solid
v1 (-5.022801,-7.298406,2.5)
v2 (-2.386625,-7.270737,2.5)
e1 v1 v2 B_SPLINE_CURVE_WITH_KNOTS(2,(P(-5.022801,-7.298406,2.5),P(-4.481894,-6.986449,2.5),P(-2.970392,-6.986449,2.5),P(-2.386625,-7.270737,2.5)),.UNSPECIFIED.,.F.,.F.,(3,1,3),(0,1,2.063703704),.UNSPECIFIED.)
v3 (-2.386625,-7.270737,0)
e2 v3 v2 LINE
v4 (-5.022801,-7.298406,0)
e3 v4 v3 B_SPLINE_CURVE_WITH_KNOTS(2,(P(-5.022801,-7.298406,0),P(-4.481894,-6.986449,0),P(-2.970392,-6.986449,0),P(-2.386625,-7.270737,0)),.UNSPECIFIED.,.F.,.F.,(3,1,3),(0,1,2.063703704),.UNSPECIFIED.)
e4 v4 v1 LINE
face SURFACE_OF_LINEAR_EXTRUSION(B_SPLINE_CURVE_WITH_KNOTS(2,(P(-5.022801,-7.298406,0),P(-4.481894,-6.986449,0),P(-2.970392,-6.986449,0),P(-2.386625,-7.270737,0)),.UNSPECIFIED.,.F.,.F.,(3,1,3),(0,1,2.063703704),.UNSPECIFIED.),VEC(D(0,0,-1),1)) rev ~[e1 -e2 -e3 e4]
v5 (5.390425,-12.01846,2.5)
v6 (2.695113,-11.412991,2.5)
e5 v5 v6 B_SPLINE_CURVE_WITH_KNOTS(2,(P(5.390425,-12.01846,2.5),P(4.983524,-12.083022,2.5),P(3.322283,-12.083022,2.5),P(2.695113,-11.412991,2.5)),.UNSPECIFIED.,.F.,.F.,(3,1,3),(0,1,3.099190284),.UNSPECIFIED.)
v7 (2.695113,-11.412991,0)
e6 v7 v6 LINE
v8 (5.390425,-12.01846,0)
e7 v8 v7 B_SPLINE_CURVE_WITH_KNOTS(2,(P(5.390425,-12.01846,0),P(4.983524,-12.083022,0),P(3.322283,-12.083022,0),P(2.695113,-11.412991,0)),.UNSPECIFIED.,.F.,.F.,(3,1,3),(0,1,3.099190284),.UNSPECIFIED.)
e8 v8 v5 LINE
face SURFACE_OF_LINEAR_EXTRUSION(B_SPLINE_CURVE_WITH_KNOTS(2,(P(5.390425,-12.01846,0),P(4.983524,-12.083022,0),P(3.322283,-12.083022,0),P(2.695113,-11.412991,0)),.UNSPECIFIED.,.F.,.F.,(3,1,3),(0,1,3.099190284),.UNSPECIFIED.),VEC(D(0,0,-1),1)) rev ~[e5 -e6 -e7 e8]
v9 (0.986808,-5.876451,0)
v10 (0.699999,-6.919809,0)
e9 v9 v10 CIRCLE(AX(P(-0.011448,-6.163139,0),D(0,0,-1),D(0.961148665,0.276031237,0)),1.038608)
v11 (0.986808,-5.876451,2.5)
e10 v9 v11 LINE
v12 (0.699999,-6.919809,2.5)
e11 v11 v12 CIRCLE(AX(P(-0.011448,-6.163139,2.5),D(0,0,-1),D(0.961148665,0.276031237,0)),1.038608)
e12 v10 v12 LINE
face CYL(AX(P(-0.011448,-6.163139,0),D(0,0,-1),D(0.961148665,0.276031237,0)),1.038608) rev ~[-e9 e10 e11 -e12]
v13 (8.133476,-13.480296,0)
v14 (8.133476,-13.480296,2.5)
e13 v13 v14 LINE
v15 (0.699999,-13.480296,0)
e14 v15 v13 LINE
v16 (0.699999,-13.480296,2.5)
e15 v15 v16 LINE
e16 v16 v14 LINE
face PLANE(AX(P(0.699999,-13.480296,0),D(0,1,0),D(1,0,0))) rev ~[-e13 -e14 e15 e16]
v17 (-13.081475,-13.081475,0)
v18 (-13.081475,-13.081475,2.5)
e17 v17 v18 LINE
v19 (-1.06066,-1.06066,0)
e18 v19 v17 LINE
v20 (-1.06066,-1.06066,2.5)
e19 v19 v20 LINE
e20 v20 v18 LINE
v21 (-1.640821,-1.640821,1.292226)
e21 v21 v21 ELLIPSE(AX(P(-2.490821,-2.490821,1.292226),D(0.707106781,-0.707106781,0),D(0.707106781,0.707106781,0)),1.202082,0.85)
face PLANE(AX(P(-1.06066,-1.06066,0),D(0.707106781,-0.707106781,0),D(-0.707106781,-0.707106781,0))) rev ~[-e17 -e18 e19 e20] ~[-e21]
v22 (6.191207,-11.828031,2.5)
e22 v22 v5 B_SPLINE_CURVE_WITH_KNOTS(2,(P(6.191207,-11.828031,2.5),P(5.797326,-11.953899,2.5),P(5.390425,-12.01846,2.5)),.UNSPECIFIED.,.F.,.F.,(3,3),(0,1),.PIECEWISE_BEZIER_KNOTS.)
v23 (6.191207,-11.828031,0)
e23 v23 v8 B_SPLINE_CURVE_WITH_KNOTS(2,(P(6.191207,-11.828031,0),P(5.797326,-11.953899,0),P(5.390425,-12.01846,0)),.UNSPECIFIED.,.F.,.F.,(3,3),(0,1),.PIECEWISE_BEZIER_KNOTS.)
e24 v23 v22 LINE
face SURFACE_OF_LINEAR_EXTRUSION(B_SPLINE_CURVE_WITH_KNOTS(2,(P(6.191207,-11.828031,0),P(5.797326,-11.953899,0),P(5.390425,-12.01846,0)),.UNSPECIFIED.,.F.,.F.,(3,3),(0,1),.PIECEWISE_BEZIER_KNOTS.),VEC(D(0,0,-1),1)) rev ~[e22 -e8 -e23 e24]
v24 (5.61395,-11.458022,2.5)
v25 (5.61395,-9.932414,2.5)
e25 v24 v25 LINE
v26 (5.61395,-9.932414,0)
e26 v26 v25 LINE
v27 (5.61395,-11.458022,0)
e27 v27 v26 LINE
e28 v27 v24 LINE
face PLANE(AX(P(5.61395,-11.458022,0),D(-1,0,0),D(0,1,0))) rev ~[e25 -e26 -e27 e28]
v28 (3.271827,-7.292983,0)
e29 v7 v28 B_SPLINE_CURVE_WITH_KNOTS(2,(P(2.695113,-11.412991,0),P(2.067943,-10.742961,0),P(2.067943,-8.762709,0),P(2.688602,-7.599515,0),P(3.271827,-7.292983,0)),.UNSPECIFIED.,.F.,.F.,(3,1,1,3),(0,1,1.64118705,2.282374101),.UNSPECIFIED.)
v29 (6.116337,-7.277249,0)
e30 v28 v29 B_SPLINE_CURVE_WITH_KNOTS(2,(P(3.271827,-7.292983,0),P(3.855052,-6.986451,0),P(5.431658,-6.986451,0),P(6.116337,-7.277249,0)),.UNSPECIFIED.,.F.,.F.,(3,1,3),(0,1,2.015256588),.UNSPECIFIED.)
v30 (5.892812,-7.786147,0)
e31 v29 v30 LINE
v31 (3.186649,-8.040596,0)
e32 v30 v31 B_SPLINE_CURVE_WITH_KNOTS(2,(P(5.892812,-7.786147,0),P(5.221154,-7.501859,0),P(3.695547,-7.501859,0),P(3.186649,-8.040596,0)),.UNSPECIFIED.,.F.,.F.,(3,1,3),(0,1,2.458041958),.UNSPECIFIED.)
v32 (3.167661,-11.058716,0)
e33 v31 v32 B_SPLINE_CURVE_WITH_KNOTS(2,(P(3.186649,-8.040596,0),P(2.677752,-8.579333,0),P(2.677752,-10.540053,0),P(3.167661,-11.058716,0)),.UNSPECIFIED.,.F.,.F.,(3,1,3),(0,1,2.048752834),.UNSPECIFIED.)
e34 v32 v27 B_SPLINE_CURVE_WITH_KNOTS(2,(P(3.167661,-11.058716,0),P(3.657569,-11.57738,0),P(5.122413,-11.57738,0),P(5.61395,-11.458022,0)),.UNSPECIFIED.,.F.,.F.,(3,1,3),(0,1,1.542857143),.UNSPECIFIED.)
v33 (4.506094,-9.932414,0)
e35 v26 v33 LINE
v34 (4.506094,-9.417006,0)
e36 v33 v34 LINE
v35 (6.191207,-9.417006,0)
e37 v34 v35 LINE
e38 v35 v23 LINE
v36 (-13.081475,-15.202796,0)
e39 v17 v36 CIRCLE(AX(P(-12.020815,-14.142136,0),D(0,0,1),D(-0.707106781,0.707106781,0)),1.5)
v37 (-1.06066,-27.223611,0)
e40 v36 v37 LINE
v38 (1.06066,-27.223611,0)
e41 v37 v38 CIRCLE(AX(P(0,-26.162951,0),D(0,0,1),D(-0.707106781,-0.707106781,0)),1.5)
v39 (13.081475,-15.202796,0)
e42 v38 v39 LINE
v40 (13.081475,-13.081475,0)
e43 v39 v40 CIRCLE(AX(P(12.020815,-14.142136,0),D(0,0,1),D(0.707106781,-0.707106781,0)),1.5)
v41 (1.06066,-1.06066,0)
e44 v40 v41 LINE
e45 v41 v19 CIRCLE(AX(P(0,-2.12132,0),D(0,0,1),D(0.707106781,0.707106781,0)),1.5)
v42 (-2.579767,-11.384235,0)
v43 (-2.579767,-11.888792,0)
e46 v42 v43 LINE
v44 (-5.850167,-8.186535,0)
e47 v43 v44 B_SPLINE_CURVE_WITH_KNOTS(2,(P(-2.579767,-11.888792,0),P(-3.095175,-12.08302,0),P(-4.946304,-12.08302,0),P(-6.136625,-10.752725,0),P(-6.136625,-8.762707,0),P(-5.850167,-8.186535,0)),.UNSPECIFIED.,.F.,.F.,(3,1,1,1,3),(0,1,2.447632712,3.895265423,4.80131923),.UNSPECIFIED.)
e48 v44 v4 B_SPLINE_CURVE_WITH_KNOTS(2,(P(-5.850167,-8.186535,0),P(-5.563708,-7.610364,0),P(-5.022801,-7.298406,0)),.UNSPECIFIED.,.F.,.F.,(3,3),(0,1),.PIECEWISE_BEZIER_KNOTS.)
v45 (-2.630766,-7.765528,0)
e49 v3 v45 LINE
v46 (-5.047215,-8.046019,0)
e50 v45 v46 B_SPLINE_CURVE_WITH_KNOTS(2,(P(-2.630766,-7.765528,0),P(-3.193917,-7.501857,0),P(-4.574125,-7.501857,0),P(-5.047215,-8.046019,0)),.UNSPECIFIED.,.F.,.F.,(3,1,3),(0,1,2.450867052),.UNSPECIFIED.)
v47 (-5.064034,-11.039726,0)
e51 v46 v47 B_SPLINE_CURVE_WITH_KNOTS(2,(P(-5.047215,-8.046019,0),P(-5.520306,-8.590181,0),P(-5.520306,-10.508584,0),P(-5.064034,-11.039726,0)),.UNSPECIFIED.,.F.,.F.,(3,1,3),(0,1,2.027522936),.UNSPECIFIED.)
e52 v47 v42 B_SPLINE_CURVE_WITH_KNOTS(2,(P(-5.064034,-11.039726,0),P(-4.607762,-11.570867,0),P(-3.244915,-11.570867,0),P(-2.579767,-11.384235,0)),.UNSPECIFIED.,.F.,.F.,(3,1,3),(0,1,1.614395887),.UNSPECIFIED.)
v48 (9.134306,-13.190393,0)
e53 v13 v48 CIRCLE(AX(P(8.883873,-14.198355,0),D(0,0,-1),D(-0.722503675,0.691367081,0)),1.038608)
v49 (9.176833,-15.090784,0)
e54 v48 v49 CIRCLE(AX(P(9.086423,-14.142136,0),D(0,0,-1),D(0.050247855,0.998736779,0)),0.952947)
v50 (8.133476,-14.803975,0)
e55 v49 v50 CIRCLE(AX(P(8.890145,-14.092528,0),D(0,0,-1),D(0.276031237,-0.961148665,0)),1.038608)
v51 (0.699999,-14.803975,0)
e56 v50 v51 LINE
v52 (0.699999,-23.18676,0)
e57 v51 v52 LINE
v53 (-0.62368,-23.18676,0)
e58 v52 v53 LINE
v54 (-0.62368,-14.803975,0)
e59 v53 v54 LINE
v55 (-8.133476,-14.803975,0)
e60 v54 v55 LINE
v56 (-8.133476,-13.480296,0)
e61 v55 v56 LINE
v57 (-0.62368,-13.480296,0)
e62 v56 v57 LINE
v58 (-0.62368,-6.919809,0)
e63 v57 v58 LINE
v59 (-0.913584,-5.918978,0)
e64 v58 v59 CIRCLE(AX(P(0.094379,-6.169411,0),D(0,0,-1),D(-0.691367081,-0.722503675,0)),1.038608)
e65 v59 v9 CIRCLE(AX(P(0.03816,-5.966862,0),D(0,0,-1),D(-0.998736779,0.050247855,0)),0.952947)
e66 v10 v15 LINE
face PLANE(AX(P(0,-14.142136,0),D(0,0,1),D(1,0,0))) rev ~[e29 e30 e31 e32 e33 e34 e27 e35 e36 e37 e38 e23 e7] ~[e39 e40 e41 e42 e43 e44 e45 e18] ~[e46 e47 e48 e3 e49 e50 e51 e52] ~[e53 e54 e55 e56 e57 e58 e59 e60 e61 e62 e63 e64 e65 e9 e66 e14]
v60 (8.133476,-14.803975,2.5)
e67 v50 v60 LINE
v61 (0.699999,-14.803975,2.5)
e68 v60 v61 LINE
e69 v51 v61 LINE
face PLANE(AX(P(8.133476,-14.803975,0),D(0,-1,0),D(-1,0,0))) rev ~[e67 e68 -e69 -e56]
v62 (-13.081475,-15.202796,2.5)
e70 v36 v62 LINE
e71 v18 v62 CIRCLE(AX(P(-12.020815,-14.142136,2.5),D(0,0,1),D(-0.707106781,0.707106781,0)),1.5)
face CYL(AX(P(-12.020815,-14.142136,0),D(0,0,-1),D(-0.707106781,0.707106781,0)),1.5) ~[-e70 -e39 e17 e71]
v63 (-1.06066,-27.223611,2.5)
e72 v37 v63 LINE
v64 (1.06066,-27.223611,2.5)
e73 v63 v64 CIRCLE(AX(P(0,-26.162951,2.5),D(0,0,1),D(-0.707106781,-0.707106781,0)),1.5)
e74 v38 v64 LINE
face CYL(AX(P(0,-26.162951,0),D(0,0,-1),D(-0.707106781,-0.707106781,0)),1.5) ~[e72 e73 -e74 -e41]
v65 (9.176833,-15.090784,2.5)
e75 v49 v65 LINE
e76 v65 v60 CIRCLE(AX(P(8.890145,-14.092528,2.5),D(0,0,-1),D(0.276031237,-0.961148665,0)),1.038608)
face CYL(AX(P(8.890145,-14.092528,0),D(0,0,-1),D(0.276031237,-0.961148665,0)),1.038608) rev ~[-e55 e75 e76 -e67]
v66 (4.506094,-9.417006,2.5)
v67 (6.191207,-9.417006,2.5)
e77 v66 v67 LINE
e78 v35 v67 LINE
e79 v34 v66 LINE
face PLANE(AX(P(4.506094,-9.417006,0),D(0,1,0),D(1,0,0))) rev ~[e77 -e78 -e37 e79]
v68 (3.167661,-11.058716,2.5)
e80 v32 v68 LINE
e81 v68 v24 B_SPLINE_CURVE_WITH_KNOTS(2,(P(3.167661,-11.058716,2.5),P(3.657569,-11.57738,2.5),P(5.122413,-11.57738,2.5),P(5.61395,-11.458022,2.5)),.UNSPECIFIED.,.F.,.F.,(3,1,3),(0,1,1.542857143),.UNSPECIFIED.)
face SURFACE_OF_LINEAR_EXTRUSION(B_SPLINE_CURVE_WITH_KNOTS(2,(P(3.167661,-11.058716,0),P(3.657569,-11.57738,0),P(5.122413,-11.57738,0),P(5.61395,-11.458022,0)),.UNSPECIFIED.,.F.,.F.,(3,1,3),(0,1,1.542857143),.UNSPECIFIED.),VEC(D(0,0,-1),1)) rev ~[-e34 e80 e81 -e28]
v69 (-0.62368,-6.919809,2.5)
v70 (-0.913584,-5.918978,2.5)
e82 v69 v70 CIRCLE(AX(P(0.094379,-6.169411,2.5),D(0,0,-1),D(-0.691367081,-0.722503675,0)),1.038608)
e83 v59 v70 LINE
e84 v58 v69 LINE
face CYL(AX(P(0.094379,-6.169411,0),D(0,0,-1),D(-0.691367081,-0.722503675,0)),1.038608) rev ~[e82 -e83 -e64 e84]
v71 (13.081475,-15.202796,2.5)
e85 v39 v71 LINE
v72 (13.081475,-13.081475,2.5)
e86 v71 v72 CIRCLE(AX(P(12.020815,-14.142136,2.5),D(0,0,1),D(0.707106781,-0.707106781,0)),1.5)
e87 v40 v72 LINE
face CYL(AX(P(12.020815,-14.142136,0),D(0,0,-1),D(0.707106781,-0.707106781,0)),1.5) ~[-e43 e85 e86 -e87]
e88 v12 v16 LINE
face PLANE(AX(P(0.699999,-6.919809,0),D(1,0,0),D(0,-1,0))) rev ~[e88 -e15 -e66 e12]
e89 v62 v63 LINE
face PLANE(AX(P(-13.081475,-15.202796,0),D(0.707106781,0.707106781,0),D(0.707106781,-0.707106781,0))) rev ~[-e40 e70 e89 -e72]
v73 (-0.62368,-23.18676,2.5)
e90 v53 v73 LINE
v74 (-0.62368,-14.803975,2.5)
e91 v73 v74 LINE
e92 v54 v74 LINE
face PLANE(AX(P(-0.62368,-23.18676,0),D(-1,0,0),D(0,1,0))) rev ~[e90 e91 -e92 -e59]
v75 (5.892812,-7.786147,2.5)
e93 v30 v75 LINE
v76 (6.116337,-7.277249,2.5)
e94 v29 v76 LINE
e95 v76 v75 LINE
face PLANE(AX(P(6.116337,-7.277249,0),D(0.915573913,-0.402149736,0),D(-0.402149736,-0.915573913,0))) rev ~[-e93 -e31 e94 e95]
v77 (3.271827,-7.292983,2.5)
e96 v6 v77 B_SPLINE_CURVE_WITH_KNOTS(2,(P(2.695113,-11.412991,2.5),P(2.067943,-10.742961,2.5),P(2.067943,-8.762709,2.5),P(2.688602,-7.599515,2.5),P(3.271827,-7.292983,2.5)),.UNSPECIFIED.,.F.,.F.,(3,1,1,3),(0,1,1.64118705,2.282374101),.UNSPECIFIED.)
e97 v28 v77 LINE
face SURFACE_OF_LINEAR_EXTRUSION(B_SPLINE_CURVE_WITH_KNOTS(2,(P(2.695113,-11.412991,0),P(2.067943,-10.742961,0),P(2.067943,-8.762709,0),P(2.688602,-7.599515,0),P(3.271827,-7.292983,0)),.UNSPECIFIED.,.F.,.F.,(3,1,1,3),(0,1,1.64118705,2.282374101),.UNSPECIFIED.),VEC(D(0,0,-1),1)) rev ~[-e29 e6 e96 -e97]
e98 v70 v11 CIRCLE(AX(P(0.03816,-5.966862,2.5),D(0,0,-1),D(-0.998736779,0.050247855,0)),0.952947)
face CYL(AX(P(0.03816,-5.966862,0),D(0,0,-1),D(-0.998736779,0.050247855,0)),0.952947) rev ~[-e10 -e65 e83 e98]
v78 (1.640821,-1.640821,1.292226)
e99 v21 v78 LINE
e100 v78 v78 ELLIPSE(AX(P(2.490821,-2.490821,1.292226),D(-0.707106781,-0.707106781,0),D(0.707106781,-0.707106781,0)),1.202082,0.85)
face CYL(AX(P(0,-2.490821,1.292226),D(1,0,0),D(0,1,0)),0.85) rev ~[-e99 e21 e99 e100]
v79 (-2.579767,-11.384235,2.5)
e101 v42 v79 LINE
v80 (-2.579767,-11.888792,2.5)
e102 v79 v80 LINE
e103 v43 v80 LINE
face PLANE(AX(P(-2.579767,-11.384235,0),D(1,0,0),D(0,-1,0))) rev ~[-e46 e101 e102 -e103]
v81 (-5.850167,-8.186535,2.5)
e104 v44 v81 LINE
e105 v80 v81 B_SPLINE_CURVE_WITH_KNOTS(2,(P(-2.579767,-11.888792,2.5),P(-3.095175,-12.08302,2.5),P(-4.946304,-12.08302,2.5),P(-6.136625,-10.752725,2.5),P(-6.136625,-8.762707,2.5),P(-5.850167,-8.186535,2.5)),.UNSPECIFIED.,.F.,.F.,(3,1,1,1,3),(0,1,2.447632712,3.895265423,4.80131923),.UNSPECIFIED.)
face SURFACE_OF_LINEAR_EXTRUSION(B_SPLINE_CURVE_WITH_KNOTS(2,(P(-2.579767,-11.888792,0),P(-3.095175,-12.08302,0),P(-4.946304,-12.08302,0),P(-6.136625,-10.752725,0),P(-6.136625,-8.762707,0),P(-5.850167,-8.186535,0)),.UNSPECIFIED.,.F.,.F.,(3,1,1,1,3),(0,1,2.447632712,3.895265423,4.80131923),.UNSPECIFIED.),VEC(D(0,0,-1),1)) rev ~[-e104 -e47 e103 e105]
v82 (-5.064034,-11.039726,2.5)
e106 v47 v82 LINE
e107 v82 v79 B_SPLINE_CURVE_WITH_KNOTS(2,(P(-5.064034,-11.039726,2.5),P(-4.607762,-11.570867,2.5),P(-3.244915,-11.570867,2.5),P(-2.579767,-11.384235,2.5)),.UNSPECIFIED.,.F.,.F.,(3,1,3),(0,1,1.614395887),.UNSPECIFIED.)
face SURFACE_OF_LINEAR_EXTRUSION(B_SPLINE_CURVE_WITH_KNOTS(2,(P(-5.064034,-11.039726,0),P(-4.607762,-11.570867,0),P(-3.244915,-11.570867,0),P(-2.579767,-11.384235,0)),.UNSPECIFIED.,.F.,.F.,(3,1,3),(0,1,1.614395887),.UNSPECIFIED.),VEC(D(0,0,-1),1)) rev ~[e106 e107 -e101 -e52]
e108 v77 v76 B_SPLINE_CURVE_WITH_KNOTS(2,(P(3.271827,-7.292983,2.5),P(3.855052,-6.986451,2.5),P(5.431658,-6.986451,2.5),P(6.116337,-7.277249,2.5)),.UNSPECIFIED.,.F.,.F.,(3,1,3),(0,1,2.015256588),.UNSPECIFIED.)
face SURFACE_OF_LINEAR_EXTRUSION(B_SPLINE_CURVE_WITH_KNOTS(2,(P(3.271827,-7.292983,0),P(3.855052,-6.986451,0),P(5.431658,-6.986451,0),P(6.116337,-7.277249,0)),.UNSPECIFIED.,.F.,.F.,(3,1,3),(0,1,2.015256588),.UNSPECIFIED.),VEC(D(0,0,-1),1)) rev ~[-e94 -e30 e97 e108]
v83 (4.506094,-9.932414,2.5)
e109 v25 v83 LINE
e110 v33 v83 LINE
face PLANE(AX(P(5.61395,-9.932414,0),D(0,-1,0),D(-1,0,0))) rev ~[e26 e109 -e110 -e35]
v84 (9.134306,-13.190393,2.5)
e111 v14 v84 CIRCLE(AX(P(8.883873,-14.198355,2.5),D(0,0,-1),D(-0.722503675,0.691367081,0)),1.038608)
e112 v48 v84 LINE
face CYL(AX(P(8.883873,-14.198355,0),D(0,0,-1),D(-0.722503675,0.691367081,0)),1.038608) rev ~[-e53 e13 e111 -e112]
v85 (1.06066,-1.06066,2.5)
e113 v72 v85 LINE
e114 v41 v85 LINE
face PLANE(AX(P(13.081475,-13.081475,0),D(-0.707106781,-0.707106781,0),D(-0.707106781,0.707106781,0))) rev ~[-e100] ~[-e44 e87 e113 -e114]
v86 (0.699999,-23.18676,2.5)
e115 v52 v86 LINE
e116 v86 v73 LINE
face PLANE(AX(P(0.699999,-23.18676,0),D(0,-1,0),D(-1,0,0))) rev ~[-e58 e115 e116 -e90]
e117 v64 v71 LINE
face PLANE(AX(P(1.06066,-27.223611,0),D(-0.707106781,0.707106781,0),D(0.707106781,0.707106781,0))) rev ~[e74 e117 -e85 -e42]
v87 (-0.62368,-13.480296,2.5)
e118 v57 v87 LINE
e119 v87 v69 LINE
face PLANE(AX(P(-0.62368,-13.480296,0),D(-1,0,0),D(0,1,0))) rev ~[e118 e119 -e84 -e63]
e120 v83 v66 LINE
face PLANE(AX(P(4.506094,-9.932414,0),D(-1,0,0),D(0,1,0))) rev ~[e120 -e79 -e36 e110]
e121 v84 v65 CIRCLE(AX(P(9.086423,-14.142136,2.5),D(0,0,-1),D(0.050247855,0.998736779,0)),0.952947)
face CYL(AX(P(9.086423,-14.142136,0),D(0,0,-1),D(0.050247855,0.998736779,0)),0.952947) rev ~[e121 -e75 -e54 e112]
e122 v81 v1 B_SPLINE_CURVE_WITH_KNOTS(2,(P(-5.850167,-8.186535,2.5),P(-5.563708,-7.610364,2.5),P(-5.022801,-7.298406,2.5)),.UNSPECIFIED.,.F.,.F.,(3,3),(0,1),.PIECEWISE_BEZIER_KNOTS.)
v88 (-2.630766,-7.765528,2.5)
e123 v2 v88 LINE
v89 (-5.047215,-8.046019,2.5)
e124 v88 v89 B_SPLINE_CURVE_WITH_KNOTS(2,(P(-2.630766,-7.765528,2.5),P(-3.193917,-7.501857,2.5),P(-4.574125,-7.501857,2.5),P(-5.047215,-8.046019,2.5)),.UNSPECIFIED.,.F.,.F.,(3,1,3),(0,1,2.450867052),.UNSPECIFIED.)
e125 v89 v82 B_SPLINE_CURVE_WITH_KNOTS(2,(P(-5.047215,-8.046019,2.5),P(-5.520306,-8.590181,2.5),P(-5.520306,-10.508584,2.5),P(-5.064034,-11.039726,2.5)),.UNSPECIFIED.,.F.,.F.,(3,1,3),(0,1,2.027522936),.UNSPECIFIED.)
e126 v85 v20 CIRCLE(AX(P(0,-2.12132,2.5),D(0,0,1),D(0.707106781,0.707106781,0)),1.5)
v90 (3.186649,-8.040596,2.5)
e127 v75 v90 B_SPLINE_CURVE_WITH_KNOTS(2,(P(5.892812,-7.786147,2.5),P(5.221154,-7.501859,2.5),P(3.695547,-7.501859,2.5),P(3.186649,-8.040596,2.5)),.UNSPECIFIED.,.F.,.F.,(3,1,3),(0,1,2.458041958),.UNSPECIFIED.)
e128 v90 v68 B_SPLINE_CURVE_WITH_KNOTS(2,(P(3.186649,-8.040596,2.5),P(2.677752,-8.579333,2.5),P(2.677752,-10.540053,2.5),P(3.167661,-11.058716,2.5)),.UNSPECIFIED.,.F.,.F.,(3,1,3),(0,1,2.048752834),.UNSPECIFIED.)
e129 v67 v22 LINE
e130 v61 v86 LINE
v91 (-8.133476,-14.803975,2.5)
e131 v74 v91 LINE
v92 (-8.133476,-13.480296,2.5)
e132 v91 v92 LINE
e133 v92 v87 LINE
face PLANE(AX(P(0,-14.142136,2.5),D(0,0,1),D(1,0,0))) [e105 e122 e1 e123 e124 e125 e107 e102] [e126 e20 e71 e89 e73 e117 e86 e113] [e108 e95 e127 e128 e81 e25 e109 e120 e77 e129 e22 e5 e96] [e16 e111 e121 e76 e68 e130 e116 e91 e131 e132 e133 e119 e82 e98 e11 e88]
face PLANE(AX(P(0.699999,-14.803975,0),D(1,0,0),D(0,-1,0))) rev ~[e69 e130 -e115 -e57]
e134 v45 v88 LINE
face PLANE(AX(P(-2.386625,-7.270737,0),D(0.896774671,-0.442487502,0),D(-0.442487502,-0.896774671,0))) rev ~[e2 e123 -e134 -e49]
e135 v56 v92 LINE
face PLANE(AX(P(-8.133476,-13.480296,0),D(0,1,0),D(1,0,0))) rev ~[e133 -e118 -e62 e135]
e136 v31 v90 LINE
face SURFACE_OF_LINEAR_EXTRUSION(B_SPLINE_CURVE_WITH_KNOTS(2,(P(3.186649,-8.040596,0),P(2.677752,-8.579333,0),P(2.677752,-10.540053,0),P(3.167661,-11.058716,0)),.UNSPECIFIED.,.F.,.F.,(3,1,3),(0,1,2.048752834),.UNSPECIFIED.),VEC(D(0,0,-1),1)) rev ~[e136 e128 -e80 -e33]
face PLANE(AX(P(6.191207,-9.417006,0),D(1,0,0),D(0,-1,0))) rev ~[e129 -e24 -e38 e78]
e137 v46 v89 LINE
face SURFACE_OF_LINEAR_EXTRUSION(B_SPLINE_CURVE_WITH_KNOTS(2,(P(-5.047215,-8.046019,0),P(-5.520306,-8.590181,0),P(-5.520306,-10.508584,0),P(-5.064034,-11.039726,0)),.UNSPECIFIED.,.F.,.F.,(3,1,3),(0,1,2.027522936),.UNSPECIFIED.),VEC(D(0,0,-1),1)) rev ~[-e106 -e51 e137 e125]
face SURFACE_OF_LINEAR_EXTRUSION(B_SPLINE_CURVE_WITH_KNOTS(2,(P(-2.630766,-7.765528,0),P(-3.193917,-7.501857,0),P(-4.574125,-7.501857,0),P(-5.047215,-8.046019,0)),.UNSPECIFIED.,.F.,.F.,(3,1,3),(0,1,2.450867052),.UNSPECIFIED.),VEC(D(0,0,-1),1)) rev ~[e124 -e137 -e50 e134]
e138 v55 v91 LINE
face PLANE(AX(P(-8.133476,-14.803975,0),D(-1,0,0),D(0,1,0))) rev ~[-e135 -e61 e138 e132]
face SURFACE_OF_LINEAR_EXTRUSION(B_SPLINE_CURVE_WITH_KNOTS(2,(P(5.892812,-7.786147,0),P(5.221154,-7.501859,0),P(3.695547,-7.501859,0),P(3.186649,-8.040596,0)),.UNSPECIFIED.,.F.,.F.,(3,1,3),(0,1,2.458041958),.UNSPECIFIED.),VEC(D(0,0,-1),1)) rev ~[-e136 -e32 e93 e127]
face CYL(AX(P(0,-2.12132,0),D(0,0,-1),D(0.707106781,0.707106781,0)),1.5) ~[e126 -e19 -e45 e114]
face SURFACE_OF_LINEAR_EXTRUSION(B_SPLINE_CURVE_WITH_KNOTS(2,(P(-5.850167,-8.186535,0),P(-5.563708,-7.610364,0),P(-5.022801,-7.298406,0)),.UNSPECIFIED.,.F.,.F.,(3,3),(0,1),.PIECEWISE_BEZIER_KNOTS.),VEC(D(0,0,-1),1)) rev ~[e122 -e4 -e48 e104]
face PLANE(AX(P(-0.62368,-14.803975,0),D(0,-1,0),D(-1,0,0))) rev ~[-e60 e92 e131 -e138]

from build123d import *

# Parameters (mm, degrees)
F1_DEPTH = 2.5
F2_R     = 0.85
F3_DEPTH = 12.5


with BuildPart() as f1:
    # F0 (on Top) → F1 (new body)
    with BuildSketch(Plane.XY):
        with BuildLine():
            Line((13.081475452, -13.081475452), (1.0606601718, -1.0606601718))
            ThreePointArc((1.0606601718, -1.0606601718), (0, -0.6213203436), (-1.0606601718, -1.0606601718))
            Line((-1.0606601718, -1.0606601718), (-13.081475452, -13.081475452))
            ThreePointArc((-13.081475452, -13.081475452), (-13.5208152802, -14.1421356237), (-13.081475452, -15.2027957955))
            Line((-13.081475452, -15.2027957955), (-1.0606601718, -27.2236110757))
            ThreePointArc((-1.0606601718, -27.2236110757), (0, -27.6629509039), (1.0606601718, -27.2236110757))
            Line((1.0606601718, -27.2236110757), (13.081475452, -15.2027957955))
            ThreePointArc((13.081475452, -15.2027957955), (13.5208152802, -14.1421356237), (13.081475452, -13.081475452))
        make_face()
        with BuildLine():
            add(Edge.make_bspline(
                [(-2.6307656823, -7.7655284531), (-3.193916724, -7.5018565781), (-3.7570677656, -7.5018565781)],
                knots=[0, 0, 0, 1, 1, 1], degree=2))
            add(Edge.make_bspline(
                [(-3.7570677656, -7.5018565781), (-4.5741250573, -7.5018565781), (-5.0472153351, -8.0460189045)],
                knots=[0, 0, 0, 1, 1, 1], degree=2))
            add(Edge.make_bspline(
                [(-5.0472153351, -8.0460189045), (-5.5203056128, -8.5901812309), (-5.5203056128, -9.5363617864)],
                knots=[0, 0, 0, 1, 1, 1], degree=2))
            add(Edge.make_bspline(
                [(-5.5203056128, -9.5363617864), (-5.5203056128, -10.5085840087), (-5.0640339115, -11.0397255017)],
                knots=[0, 0, 0, 1, 1, 1], degree=2))
            add(Edge.make_bspline(
                [(-5.0640339115, -11.0397255017), (-4.6077622101, -11.5708669948), (-3.7635781823, -11.5708669948)],
                knots=[0, 0, 0, 1, 1, 1], degree=2))
            add(Edge.make_bspline(
                [(-3.7635781823, -11.5708669948), (-3.2449149878, -11.5708669948), (-2.5797674184, -11.3842350503)],
                knots=[0, 0, 0, 1, 1, 1], degree=2))
            Line((-2.5797674184, -11.3842350503), (-2.5797674184, -11.888792342))
            add(Edge.make_bspline(
                [(-2.5797674184, -11.888792342), (-3.0951754045, -12.0830197725), (-3.8514688073, -12.0830197725)],
                knots=[0, 0, 0, 1, 1, 1], degree=2))
            add(Edge.make_bspline(
                [(-3.8514688073, -12.0830197725), (-4.9463038767, -12.0830197725), (-5.541464467, -11.4178722031)],
                knots=[0, 0, 0, 1, 1, 1], degree=2))
            add(Edge.make_bspline(
                [(-5.541464467, -11.4178722031), (-6.1366250573, -10.7527246337), (-6.1366250573, -9.5287663003)],
                knots=[0, 0, 0, 1, 1, 1], degree=2))
            add(Edge.make_bspline(
                [(-6.1366250573, -9.5287663003), (-6.1366250573, -8.7627072725), (-5.850166724, -8.1865353975)],
                knots=[0, 0, 0, 1, 1, 1], degree=2))
            add(Edge.make_bspline(
                [(-5.850166724, -8.1865353975), (-5.5637083906, -7.6103635225), (-5.0228012726, -7.2984060573)],
                knots=[0, 0, 0, 1, 1, 1], degree=2))
            add(Edge.make_bspline(
                [(-5.0228012726, -7.2984060573), (-4.4818941545, -6.986448592), (-3.7494722795, -6.986448592)],
                knots=[0, 0, 0, 1, 1, 1], degree=2))
            add(Edge.make_bspline(
                [(-3.7494722795, -6.986448592), (-2.9703924184, -6.986448592), (-2.3866250573, -7.2707367864)],
                knots=[0, 0, 0, 1, 1, 1], degree=2))
            Line((-2.3866250573, -7.2707367864), (-2.6307656823, -7.7655284531))
        make_face(mode=Mode.SUBTRACT)
        with BuildLine():
            Line((-8.1334756687, -14.8039748892), (-8.1334756687, -13.4802963582))
            Line((-8.1334756687, -13.4802963582), (-0.6236797201, -13.4802963582))
            Line((-0.6236797201, -13.4802963582), (-0.6236797201, -6.9198086858))
            ThreePointArc((-0.6236797201, -6.9198086858), (-0.9032194318, -6.4583786209), (-0.9135835525, -5.9189782686))
            ThreePointArc((-0.9135835525, -5.9189782686), (0.0168397474, -5.0141534426), (0.9868078824, -5.876451129))
            ThreePointArc((0.9868078824, -5.876451129), (0.9900106564, -6.4384308628), (0.6999988109, -6.9198086858))
            Line((0.6999988109, -6.9198086858), (0.6999988109, -13.4802963582))
            Line((0.6999988109, -13.4802963582), (8.1334756687, -13.4802963582))
            ThreePointArc((8.1334756687, -13.4802963582), (8.5949057336, -13.2007566465), (9.134306086, -13.1903925258))
            ThreePointArc((9.134306086, -13.1903925258), (10.0391309119, -14.1208158258), (9.1768332255, -15.0907839607))
            ThreePointArc((9.1768332255, -15.0907839607), (8.6148534917, -15.0939867347), (8.1334756687, -14.8039748892))
            Line((8.1334756687, -14.8039748892), (0.6999988109, -14.8039748892))
            Line((0.6999988109, -14.8039748892), (0.6999988109, -23.1867600232))
            Line((0.6999988109, -23.1867600232), (-0.6236797201, -23.1867600232))
            Line((-0.6236797201, -23.1867600232), (-0.6236797201, -14.8039748892))
            Line((-0.6236797201, -14.8039748892), (-8.1334756687, -14.8039748892))
        make_face(mode=Mode.SUBTRACT)
        with BuildLine():
            Line((4.5060936962, -9.9324142291), (4.5060936962, -9.417006243))
            Line((4.5060936962, -9.417006243), (6.1912065434, -9.417006243))
            Line((6.1912065434, -9.417006243), (6.1912065434, -11.8280305486))
            add(Edge.make_bspline(
                [(6.1912065434, -11.8280305486), (5.7973263351, -11.9538986041), (5.3904252934, -12.0184602361)],
                knots=[0, 0, 0, 1, 1, 1], degree=2))
            add(Edge.make_bspline(
                [(5.3904252934, -12.0184602361), (4.9835242517, -12.083021868), (4.4474999462, -12.083021868)],
                knots=[0, 0, 0, 1, 1, 1], degree=2))
            add(Edge.make_bspline(
                [(4.4474999462, -12.083021868), (3.3222829323, -12.083021868), (2.6951127934, -11.4129914861)],
                knots=[0, 0, 0, 1, 1, 1], degree=2))
            add(Edge.make_bspline(
                [(2.6951127934, -11.4129914861), (2.0679426545, -10.7429611041), (2.0679426545, -9.5363638819)],
                knots=[0, 0, 0, 1, 1, 1], degree=2))
            add(Edge.make_bspline(
                [(2.0679426545, -9.5363638819), (2.0679426545, -8.762709368), (2.3782725156, -8.1811121458)],
                knots=[0, 0, 0, 1, 1, 1], degree=2))
            add(Edge.make_bspline(
                [(2.3782725156, -8.1811121458), (2.6886023767, -7.5995149236), (3.2718272031, -7.2929828055)],
                knots=[0, 0, 0, 1, 1, 1], degree=2))
            add(Edge.make_bspline(
                [(3.2718272031, -7.2929828055), (3.8550520295, -6.9864506875), (4.637387099, -6.9864506875)],
                knots=[0, 0, 0, 1, 1, 1], degree=2))
            add(Edge.make_bspline(
                [(4.637387099, -6.9864506875), (5.4316579323, -6.9864506875), (6.1163367517, -7.2772492986)],
                knots=[0, 0, 0, 1, 1, 1], degree=2))
            Line((6.1163367517, -7.2772492986), (5.8928124462, -7.786146868))
            add(Edge.make_bspline(
                [(5.8928124462, -7.786146868), (5.2211544601, -7.5018586736), (4.6004947378, -7.5018586736)],
                knots=[0, 0, 0, 1, 1, 1], degree=2))
            add(Edge.make_bspline(
                [(4.6004947378, -7.5018586736), (3.6955468212, -7.5018586736), (3.1866492517, -8.0405956527)],
                knots=[0, 0, 0, 1, 1, 1], degree=2))
            add(Edge.make_bspline(
                [(3.1866492517, -8.0405956527), (2.6777516823, -8.5793326319), (2.6777516823, -9.5363638819)],
                knots=[0, 0, 0, 1, 1, 1], degree=2))
            add(Edge.make_bspline(
                [(2.6777516823, -9.5363638819), (2.6777516823, -10.540053118), (3.1676605365, -11.0587163125)],
                knots=[0, 0, 0, 1, 1, 1], degree=2))
            add(Edge.make_bspline(
                [(3.1676605365, -11.0587163125), (3.6575693906, -11.5773795069), (4.6070051545, -11.5773795069)],
                knots=[0, 0, 0, 1, 1, 1], degree=2))
            add(Edge.make_bspline(
                [(4.6070051545, -11.5773795069), (5.1224131406, -11.5773795069), (5.613949599, -11.458021868)],
                knots=[0, 0, 0, 1, 1, 1], degree=2))
            Line((5.613949599, -11.458021868), (5.613949599, -9.9324142291))
            Line((5.613949599, -9.9324142291), (4.5060936962, -9.9324142291))
        make_face(mode=Mode.SUBTRACT)
    extrude(amount=F1_DEPTH)

    # F2 (on Right) → F3 (cut, symmetric)
    with BuildSketch(Plane.YZ):
        with Locations((-2.4908210296, 1.292226194)):
            Circle(F2_R)
    extrude(amount=F3_DEPTH, both=True, mode=Mode.SUBTRACT)


solid = f1.part
